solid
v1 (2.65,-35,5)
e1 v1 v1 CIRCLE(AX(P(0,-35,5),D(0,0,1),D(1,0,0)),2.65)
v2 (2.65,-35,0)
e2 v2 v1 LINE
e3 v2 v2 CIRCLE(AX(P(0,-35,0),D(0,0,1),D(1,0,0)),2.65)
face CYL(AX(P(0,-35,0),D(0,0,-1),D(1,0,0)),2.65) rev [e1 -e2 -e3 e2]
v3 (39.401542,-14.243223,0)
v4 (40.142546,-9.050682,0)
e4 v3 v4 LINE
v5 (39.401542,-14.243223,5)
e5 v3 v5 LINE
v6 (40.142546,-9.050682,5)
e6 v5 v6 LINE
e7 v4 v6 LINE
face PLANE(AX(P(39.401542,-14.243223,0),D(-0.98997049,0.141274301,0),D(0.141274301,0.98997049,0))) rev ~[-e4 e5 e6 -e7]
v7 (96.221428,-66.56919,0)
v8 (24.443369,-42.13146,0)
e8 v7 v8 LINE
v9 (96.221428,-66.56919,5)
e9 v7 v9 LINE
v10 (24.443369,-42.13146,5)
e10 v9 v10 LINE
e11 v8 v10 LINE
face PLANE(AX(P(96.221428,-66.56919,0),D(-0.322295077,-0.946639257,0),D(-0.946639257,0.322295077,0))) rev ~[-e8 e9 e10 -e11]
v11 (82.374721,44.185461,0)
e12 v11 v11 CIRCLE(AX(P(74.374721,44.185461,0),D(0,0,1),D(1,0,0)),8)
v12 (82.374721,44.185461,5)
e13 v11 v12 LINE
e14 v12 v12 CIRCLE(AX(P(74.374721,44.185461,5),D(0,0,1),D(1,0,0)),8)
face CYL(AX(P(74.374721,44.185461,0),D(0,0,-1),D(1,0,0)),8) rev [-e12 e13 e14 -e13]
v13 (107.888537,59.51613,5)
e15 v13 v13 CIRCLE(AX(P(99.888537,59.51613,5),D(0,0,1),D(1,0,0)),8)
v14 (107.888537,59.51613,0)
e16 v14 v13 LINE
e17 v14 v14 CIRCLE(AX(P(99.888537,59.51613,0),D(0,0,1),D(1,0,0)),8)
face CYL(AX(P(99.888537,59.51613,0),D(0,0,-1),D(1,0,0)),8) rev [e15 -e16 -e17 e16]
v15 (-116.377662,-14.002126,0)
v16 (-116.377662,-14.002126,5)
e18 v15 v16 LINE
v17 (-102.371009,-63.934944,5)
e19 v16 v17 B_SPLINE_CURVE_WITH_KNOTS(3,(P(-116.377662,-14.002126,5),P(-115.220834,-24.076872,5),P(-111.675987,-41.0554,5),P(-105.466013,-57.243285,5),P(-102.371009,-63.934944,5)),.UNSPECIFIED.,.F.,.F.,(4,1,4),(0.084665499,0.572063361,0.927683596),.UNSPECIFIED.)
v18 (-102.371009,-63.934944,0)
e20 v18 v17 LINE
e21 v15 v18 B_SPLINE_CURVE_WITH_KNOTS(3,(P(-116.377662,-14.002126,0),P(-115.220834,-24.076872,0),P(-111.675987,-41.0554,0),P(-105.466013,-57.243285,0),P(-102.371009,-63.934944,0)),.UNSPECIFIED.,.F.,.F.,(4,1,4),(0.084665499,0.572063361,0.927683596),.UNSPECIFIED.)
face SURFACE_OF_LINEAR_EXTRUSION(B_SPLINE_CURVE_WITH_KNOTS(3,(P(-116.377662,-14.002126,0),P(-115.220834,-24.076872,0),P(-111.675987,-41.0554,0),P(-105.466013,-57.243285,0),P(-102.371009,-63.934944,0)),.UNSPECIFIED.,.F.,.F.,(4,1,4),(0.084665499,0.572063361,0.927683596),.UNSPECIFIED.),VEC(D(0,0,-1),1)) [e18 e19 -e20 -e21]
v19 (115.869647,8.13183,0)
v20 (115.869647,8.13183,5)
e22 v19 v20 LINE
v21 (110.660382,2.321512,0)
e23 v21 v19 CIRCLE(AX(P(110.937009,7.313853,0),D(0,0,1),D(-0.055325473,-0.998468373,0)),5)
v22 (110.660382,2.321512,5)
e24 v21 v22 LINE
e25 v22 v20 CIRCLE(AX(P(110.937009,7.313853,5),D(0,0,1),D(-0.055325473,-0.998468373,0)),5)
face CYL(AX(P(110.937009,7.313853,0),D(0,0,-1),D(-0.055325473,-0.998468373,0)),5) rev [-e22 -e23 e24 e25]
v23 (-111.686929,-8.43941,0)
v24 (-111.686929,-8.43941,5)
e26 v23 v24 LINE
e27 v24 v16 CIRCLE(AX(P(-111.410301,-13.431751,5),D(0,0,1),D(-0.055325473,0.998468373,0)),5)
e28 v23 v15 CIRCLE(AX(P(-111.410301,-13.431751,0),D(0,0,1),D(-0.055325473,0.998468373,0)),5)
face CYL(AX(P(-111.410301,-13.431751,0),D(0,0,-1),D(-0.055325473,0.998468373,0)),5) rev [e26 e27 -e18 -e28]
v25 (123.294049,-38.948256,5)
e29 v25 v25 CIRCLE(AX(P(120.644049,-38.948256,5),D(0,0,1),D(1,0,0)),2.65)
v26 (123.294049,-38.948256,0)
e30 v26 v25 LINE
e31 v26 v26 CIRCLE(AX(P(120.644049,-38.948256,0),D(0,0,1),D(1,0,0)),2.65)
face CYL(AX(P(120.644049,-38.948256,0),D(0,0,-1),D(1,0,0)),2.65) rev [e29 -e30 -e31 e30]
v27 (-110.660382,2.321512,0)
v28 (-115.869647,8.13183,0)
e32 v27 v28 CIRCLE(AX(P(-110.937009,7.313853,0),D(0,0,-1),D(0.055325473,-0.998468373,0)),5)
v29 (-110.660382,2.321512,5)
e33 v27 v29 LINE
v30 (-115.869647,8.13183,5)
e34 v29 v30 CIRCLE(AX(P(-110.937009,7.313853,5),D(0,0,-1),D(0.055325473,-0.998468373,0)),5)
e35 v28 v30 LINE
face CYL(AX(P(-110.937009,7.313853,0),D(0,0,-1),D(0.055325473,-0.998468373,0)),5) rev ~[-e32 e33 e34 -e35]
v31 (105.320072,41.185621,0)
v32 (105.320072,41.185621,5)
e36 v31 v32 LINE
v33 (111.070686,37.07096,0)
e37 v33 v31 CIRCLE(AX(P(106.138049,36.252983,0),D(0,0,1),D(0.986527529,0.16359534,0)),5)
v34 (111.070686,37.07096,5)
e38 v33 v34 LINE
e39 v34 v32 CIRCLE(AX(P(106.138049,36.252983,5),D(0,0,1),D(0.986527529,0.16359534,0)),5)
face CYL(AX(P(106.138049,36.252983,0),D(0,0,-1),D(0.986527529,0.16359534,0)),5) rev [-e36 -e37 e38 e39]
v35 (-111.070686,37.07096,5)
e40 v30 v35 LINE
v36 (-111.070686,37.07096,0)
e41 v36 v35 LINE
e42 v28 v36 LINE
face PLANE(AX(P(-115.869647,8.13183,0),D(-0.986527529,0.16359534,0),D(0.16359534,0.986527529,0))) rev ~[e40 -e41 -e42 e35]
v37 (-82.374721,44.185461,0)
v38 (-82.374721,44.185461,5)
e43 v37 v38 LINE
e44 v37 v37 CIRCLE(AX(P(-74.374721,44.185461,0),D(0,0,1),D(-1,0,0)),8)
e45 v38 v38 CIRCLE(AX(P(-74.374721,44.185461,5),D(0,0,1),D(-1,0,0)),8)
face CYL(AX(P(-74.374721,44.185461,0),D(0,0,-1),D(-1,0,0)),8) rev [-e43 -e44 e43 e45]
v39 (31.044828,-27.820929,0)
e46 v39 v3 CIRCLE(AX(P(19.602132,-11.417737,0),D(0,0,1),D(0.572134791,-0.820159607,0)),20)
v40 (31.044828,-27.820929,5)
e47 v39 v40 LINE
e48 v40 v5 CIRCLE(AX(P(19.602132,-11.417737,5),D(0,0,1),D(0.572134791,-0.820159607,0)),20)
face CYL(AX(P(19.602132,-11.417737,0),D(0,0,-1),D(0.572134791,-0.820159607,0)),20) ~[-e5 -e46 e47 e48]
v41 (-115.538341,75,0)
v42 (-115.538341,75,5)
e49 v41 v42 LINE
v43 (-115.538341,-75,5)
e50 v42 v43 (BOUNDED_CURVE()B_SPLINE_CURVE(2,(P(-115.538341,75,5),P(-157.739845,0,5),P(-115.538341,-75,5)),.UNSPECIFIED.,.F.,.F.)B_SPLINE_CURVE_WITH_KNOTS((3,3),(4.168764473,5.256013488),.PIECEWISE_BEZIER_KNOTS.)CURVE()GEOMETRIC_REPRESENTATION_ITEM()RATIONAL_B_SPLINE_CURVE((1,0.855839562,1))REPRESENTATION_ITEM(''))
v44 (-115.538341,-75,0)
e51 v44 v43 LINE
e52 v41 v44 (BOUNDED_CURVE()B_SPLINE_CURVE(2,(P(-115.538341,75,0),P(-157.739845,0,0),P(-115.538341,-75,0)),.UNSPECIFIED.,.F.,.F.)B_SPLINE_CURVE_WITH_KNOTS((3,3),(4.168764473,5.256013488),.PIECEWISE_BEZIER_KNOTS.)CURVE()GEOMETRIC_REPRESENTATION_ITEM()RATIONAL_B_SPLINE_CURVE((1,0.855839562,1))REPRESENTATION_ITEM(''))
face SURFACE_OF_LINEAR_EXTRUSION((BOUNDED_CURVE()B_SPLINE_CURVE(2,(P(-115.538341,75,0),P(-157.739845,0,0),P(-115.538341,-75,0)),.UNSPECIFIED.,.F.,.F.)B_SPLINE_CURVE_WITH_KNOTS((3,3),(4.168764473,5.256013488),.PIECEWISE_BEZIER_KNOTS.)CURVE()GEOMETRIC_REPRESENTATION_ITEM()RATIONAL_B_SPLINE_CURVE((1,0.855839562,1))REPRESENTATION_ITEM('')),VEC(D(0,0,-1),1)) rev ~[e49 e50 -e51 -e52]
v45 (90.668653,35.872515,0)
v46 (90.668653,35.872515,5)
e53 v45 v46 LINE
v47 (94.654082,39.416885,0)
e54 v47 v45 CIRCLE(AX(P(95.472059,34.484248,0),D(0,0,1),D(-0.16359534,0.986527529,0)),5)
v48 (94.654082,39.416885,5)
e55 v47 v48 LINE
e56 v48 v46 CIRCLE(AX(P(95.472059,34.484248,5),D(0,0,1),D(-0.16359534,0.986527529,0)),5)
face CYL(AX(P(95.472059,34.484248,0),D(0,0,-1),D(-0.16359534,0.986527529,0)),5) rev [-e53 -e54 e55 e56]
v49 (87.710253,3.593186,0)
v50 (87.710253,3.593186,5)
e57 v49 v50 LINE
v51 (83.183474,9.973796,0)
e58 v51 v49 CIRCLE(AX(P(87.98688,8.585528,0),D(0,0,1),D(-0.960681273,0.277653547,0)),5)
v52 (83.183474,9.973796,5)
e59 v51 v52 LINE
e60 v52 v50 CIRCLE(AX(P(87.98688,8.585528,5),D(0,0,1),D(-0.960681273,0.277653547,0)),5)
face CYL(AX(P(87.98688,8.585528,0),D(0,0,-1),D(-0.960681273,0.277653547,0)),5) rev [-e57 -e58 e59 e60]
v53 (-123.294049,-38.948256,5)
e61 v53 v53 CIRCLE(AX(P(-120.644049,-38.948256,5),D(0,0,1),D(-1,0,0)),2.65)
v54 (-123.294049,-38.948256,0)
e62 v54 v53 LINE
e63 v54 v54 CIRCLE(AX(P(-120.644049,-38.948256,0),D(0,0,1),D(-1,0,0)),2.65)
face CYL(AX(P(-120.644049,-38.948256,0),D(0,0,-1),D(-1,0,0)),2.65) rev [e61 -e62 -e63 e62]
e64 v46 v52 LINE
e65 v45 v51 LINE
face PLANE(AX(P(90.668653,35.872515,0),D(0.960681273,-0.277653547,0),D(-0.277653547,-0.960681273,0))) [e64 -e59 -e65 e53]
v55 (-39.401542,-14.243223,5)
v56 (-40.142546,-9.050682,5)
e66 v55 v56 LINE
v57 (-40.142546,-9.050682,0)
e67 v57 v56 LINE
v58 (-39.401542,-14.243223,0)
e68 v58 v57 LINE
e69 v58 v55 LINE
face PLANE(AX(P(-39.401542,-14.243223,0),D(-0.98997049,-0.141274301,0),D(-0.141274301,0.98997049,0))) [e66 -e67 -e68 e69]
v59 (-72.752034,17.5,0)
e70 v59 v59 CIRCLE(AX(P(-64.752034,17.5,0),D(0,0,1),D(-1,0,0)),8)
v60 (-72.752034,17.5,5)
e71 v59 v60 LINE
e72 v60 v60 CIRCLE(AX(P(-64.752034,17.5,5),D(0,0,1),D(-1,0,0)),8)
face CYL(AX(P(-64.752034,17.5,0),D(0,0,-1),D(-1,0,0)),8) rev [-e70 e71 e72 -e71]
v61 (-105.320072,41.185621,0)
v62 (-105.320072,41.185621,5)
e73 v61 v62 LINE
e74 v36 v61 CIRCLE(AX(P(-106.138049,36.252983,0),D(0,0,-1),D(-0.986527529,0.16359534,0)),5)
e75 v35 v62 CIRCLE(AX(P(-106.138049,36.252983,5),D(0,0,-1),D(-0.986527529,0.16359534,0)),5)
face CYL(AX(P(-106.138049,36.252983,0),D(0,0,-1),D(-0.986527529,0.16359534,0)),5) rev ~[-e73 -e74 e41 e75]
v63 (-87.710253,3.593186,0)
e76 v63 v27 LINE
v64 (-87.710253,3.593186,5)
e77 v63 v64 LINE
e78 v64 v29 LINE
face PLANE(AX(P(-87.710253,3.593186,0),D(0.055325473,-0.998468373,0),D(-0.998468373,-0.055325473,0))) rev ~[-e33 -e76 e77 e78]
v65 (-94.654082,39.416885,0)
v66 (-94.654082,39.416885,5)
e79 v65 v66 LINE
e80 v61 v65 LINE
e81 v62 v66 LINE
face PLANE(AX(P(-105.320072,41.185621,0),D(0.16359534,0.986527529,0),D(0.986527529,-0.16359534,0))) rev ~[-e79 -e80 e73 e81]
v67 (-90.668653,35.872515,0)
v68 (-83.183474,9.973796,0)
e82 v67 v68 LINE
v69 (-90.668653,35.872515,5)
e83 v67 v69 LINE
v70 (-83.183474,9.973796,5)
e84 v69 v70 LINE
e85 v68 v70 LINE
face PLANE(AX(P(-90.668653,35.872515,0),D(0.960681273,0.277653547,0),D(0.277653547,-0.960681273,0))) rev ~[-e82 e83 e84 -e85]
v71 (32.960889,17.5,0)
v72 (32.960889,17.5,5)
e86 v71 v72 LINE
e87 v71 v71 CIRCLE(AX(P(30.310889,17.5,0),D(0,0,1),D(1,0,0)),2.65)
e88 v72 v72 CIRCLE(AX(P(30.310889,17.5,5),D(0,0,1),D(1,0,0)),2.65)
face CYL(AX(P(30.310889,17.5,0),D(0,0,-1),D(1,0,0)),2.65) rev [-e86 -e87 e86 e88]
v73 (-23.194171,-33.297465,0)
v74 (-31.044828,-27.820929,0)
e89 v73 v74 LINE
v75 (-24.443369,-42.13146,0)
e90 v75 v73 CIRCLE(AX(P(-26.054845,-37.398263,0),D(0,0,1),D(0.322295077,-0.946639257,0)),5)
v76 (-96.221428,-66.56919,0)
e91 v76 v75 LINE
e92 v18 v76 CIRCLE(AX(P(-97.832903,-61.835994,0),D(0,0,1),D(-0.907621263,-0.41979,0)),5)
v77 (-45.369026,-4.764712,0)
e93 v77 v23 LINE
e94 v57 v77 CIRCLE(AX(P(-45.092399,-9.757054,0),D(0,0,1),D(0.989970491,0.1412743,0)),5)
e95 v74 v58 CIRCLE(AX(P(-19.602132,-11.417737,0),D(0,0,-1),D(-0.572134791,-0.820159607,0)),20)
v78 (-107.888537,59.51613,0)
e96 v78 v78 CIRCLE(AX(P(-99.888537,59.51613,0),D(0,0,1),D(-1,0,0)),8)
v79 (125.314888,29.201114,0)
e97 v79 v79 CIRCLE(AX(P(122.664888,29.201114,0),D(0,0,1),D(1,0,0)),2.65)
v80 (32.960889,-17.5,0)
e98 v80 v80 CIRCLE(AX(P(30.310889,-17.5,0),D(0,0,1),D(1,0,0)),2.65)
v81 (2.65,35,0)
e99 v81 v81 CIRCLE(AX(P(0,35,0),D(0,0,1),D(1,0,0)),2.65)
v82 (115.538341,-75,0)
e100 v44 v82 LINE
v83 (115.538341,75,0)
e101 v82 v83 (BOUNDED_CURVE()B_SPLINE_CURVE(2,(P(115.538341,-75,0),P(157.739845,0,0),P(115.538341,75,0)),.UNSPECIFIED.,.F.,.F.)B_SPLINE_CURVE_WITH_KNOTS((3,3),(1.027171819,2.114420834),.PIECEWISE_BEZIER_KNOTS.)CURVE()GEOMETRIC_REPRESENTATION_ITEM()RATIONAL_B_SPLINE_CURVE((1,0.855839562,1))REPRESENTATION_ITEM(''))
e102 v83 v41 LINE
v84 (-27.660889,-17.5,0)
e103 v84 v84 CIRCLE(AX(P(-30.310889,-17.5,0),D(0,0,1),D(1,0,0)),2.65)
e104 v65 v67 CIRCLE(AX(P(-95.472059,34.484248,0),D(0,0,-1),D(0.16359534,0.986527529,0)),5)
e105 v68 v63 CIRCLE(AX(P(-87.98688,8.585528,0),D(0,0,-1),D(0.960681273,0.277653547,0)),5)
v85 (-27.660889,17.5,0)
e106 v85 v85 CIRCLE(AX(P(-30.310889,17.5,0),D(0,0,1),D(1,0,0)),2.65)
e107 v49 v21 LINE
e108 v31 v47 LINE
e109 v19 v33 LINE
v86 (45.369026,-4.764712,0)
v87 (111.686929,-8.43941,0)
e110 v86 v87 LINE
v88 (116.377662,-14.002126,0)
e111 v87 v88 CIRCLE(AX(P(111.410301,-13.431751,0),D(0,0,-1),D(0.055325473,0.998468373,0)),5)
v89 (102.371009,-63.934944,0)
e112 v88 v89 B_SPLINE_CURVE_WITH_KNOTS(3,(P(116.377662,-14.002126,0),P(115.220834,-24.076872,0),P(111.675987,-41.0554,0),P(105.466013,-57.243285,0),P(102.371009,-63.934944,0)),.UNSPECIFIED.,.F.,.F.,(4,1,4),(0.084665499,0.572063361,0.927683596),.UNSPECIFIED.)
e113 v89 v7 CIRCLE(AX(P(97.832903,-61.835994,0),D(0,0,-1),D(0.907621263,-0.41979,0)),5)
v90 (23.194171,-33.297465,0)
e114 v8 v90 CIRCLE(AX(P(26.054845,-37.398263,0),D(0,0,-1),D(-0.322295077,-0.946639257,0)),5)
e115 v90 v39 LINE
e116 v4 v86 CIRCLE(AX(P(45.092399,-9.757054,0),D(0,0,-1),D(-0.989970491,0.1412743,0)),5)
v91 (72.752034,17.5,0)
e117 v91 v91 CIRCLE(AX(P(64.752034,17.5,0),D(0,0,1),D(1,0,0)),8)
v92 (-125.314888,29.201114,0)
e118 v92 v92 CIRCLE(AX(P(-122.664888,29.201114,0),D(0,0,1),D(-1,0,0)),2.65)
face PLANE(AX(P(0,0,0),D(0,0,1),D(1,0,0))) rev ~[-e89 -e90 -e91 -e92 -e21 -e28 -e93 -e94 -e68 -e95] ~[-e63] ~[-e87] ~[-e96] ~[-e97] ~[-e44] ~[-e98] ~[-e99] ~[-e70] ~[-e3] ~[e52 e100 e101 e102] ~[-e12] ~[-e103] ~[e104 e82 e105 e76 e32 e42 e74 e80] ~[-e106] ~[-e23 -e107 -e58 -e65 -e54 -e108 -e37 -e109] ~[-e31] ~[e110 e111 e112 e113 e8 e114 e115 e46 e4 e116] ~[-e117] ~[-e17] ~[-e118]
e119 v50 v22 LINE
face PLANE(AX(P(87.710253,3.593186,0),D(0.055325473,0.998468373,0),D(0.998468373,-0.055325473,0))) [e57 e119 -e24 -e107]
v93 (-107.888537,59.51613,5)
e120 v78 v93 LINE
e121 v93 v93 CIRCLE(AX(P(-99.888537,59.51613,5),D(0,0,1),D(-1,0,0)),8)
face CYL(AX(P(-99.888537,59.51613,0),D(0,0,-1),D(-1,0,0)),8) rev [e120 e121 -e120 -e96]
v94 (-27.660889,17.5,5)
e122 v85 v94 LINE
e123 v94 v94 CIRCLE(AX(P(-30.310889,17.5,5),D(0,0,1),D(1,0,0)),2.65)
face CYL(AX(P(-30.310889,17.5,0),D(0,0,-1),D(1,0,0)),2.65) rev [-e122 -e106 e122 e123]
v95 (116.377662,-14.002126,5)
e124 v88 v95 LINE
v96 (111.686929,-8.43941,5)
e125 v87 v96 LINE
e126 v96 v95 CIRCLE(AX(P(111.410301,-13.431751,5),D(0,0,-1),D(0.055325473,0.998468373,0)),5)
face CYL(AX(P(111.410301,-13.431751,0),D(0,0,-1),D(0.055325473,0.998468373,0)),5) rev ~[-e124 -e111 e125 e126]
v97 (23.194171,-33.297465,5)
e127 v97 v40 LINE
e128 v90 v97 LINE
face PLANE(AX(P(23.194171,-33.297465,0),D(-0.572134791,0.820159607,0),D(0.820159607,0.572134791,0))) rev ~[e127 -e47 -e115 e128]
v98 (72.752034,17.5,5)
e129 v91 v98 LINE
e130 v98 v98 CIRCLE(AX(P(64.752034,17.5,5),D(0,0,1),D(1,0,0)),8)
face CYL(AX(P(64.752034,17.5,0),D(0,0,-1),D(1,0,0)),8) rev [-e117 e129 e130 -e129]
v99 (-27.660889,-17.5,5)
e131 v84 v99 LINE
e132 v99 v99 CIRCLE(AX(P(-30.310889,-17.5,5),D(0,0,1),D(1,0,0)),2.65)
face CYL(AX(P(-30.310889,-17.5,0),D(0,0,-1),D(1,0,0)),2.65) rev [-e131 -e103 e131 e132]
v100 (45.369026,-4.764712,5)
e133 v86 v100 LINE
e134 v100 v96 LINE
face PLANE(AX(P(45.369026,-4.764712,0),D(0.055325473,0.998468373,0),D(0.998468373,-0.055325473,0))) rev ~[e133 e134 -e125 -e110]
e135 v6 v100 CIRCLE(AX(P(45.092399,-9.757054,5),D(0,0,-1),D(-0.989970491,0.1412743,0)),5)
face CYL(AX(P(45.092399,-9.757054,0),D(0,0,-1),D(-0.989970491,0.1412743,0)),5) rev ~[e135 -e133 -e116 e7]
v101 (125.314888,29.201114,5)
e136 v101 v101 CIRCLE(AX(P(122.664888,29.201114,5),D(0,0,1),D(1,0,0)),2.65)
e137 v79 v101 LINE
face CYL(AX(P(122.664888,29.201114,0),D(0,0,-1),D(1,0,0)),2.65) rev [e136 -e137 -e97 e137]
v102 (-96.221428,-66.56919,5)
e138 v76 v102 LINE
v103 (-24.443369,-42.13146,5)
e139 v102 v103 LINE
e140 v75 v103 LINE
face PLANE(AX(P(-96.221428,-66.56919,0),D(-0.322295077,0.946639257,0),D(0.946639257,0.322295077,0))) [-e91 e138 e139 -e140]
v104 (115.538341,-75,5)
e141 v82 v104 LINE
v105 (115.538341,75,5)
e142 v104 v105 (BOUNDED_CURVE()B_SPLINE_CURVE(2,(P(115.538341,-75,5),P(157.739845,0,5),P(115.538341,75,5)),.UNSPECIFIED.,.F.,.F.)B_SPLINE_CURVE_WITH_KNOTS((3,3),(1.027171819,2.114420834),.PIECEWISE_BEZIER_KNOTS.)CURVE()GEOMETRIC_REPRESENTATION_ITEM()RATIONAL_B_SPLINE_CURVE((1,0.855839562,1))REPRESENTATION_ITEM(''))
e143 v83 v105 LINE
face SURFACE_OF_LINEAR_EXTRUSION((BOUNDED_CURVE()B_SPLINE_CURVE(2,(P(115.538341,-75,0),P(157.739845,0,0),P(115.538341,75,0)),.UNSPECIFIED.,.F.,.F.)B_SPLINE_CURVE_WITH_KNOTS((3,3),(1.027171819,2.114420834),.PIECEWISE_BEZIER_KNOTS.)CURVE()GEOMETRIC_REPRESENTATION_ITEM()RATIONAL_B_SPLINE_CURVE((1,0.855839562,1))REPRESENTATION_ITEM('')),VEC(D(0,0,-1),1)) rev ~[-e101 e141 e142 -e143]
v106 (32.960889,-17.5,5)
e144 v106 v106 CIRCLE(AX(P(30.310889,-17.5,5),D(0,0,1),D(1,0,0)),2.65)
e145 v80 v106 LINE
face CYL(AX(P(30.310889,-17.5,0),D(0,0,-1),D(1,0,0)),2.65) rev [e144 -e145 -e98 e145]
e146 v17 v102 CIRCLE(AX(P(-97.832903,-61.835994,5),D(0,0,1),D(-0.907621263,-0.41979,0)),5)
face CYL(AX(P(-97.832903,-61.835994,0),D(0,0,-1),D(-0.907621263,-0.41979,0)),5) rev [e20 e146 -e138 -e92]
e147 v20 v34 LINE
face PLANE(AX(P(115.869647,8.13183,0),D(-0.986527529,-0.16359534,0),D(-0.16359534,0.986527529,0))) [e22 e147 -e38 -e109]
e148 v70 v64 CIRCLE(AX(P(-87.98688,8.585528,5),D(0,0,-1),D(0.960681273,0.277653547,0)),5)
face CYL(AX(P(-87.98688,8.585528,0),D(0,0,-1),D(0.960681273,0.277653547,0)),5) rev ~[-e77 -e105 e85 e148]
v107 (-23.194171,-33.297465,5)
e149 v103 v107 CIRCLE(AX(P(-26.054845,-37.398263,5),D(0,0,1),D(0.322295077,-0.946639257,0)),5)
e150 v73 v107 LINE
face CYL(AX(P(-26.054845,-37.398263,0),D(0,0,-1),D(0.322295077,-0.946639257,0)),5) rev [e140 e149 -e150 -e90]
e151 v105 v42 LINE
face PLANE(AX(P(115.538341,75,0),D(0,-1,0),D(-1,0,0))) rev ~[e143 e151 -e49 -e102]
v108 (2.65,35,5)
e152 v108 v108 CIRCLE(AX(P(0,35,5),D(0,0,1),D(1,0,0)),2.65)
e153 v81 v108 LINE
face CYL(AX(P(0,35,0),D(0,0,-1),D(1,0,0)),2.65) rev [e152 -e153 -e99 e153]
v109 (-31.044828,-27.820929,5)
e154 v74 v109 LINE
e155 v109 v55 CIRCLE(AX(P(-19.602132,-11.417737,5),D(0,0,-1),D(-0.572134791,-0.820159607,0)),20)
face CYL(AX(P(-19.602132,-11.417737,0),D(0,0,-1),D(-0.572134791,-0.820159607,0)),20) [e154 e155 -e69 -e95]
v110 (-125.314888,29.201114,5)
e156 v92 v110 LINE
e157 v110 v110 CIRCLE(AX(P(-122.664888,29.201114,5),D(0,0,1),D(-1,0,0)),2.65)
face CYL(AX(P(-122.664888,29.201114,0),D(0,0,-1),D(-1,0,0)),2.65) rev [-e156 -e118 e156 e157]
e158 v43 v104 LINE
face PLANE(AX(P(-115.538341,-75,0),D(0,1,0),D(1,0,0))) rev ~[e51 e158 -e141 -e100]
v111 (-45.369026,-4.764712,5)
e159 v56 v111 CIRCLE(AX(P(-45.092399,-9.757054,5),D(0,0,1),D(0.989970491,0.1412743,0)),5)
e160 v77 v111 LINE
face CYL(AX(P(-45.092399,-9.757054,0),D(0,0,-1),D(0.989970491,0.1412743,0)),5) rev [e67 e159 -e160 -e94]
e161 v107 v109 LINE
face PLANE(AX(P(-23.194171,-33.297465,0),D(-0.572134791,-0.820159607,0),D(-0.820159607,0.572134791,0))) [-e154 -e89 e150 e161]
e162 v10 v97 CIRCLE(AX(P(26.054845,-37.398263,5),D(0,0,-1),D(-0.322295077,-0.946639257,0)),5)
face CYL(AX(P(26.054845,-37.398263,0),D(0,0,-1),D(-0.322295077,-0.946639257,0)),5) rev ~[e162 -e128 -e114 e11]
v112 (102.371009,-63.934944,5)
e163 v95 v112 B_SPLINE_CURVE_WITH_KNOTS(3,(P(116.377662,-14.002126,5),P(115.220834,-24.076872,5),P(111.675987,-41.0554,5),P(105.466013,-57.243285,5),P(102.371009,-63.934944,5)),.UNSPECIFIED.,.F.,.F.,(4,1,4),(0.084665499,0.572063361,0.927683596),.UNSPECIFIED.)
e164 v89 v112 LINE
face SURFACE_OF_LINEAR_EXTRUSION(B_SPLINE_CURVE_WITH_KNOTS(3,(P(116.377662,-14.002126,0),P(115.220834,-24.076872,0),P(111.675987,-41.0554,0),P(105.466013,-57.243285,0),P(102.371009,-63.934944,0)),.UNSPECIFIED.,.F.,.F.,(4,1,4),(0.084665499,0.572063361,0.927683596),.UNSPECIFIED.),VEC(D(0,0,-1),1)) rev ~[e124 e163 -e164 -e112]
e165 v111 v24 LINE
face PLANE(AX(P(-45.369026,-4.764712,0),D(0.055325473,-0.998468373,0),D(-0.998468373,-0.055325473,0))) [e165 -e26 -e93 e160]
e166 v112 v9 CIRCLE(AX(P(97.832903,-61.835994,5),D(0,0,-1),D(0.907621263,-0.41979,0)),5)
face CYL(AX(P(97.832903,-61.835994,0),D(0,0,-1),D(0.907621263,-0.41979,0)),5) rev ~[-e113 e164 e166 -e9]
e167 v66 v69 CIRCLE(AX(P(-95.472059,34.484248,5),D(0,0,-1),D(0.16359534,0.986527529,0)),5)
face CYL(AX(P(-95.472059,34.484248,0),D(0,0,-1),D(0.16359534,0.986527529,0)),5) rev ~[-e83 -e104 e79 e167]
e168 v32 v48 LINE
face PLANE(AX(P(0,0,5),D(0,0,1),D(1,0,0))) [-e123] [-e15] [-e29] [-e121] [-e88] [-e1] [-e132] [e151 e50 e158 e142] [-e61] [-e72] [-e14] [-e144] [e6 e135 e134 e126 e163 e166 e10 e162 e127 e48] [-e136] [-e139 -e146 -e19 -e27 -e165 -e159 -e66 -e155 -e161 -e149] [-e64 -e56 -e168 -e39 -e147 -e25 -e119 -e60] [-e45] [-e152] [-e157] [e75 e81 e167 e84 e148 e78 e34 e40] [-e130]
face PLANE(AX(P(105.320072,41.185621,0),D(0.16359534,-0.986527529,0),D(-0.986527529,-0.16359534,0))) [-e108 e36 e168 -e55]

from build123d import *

# Parameters (mm, degrees)
SKETCH4_R           = 2.65
SKETCH4_R_2         = 8
BOSS_EXTRUDE1_DEPTH = 5


with BuildPart() as part:
    # Sketch4 → Boss-Extrude1 (new body)
    with BuildSketch(Plane.XY):
        with BuildLine():
            Line((-115.538340842, -75), (115.538340842, -75))
            add(Edge.make_bspline(
                [(115.538340842, -75), (157.739845208, 0), (115.538340842, 75)],
                knots=[1.027171819, 1.027171819, 1.027171819, 2.114420834, 2.114420834, 2.114420834], degree=2, weights=[1, 0.855839562, 1]))
            Line((115.538340842, 75), (-115.538340842, 75))
            add(Edge.make_bspline(
                [(-115.538340842, 75), (-157.739845208, 0), (-115.538340842, -75)],
                knots=[4.168764473, 4.168764473, 4.168764473, 5.256013488, 5.256013488, 5.256013488], degree=2, weights=[1, 0.855839562, 1]))
        make_face()
        with Locations((0, 35)):
            Circle(SKETCH4_R, mode=Mode.SUBTRACT)
        with Locations((30.310889132, 17.5)):
            Circle(SKETCH4_R, mode=Mode.SUBTRACT)
        with Locations((30.310889132, -17.5)):
            Circle(SKETCH4_R, mode=Mode.SUBTRACT)
        with Locations((0, -35)):
            Circle(SKETCH4_R, mode=Mode.SUBTRACT)
        with Locations((-30.310889132, -17.5)):
            Circle(SKETCH4_R, mode=Mode.SUBTRACT)
        with Locations((-30.310889132, 17.5)):
            Circle(SKETCH4_R, mode=Mode.SUBTRACT)
        with Locations((64.752033934, 17.5)):
            Circle(SKETCH4_R_2, mode=Mode.SUBTRACT)
        with Locations((74.374721355, 44.185460771)):
            Circle(SKETCH4_R_2, mode=Mode.SUBTRACT)
        with Locations((99.888536583, 59.516130447)):
            Circle(SKETCH4_R_2, mode=Mode.SUBTRACT)
        with Locations(Location((-99.888536583, 59.516130447, 0), (0, 0, 180))):
            Circle(SKETCH4_R_2, mode=Mode.SUBTRACT)
        with Locations(Location((-74.374721355, 44.185460771, 0), (0, 0, 180))):
            Circle(SKETCH4_R_2, mode=Mode.SUBTRACT)
        with Locations(Location((-64.752033934, 17.5, 0), (0, 0, 180))):
            Circle(SKETCH4_R_2, mode=Mode.SUBTRACT)
        with Locations((120.644049354, -38.948255584)):
            Circle(SKETCH4_R, mode=Mode.SUBTRACT)
        with Locations((122.664887702, 29.201114123)):
            Circle(SKETCH4_R, mode=Mode.SUBTRACT)
        with Locations(Location((-122.664887702, 29.201114123, 0), (0, 0, 180))):
            Circle(SKETCH4_R, mode=Mode.SUBTRACT)
        with Locations(Location((-120.644049354, -38.948255584, 0), (0, 0, 180))):
            Circle(SKETCH4_R, mode=Mode.SUBTRACT)
        with BuildLine():
            Line((96.221427668, -66.569190125), (24.443369148, -42.131459749))
            ThreePointArc((24.443369148, -42.131459749), (21.104097738, -38.098339283), (23.194170579, -33.297465429))
            Line((23.194170579, -33.297465429), (31.044827796, -27.820928801))
            ThreePointArc((31.044827796, -27.820928801), (36.634624949, -21.900779304), (39.401541781, -14.243222677))
            Line((39.401541781, -14.243222677), (40.142546192, -9.050682376))
            ThreePointArc((40.142546192, -9.050682376), (41.921887066, -5.890808111), (45.369026009, -4.764712013))
            Line((45.369026009, -4.764712013), (111.686928814, -8.439409623))
            ThreePointArc((111.686928814, -8.439409623), (115.232710002, -10.208524402), (116.377662166, -14.002126368))
            add(Edge.make_bspline(
                [(116.377662166, -14.002126368), (115.220834159, -24.076872303), (111.675987444, -41.055400313), (105.466013317, -57.243285168), (102.371009367, -63.934943838)],
                knots=[0.084665499, 0.084665499, 0.084665499, 0.084665499, 0.572063361, 0.927683596, 0.927683596, 0.927683596, 0.927683596], degree=3))
            ThreePointArc((102.371009367, -63.934943838), (99.801685805, -66.432067651), (96.221427668, -66.569190125))
        make_face(mode=Mode.SUBTRACT)
        with BuildLine():
            Line((115.869646859, 8.131830129), (111.070686254, 37.070959775))
            ThreePointArc((111.070686254, 37.070959775), (109.047553267, 40.319281474), (105.320071912, 41.18562072))
            Line((105.320071912, 41.18562072), (94.654082301, 39.416885289))
            ThreePointArc((94.654082301, 39.416885289), (92.149315195, 38.220472158), (90.668652636, 35.872515381))
            Line((90.668652636, 35.872515381), (83.183473525, 9.973795657))
            ThreePointArc((83.183473525, 9.973795657), (83.908923245, 5.692386099), (87.710252524, 3.593186057))
            Line((87.710252524, 3.593186057), (110.66038185, 2.321511565))
            ThreePointArc((110.66038185, 2.321511565), (114.659851997, 3.97612342), (115.869646859, 8.131830129))
        make_face(mode=Mode.SUBTRACT)
        with BuildLine():
            Line((-96.221427668, -66.569190125), (-24.443369148, -42.131459749))
            ThreePointArc((-24.443369148, -42.131459749), (-21.104097738, -38.098339283), (-23.194170579, -33.297465429))
            Line((-23.194170579, -33.297465429), (-31.044827796, -27.820928801))
            ThreePointArc((-31.044827796, -27.820928801), (-36.634624949, -21.900779304), (-39.401541781, -14.243222677))
            Line((-39.401541781, -14.243222677), (-40.142546192, -9.050682376))
            ThreePointArc((-40.142546192, -9.050682376), (-41.921887066, -5.890808111), (-45.369026009, -4.764712013))
            Line((-45.369026009, -4.764712013), (-111.686928814, -8.439409623))
            ThreePointArc((-111.686928814, -8.439409623), (-115.232710002, -10.208524402), (-116.377662166, -14.002126368))
            add(Edge.make_bspline(
                [(-116.377662166, -14.002126368), (-115.220834159, -24.076872303), (-111.675987444, -41.055400313), (-105.466013317, -57.243285168), (-102.371009367, -63.934943838)],
                knots=[0.084665499, 0.084665499, 0.084665499, 0.084665499, 0.572063361, 0.927683596, 0.927683596, 0.927683596, 0.927683596], degree=3))
            ThreePointArc((-102.371009367, -63.934943838), (-99.801685805, -66.432067651), (-96.221427668, -66.569190125))
        make_face(mode=Mode.SUBTRACT)
        with BuildLine():
            Line((-90.668652636, 35.872515381), (-83.183473525, 9.973795657))
            ThreePointArc((-83.183473525, 9.973795657), (-83.908923245, 5.692386099), (-87.710252524, 3.593186057))
            Line((-87.710252524, 3.593186057), (-110.66038185, 2.321511565))
            ThreePointArc((-110.66038185, 2.321511565), (-114.659851997, 3.97612342), (-115.869646859, 8.131830129))
            Line((-115.869646859, 8.131830129), (-111.070686254, 37.070959775))
            ThreePointArc((-111.070686254, 37.070959775), (-109.047553267, 40.319281474), (-105.320071912, 41.18562072))
            Line((-105.320071912, 41.18562072), (-94.654082301, 39.416885289))
            ThreePointArc((-94.654082301, 39.416885289), (-92.149315195, 38.220472158), (-90.668652636, 35.872515381))
        make_face(mode=Mode.SUBTRACT)
    extrude(amount=BOSS_EXTRUDE1_DEPTH)


solid = part.part
